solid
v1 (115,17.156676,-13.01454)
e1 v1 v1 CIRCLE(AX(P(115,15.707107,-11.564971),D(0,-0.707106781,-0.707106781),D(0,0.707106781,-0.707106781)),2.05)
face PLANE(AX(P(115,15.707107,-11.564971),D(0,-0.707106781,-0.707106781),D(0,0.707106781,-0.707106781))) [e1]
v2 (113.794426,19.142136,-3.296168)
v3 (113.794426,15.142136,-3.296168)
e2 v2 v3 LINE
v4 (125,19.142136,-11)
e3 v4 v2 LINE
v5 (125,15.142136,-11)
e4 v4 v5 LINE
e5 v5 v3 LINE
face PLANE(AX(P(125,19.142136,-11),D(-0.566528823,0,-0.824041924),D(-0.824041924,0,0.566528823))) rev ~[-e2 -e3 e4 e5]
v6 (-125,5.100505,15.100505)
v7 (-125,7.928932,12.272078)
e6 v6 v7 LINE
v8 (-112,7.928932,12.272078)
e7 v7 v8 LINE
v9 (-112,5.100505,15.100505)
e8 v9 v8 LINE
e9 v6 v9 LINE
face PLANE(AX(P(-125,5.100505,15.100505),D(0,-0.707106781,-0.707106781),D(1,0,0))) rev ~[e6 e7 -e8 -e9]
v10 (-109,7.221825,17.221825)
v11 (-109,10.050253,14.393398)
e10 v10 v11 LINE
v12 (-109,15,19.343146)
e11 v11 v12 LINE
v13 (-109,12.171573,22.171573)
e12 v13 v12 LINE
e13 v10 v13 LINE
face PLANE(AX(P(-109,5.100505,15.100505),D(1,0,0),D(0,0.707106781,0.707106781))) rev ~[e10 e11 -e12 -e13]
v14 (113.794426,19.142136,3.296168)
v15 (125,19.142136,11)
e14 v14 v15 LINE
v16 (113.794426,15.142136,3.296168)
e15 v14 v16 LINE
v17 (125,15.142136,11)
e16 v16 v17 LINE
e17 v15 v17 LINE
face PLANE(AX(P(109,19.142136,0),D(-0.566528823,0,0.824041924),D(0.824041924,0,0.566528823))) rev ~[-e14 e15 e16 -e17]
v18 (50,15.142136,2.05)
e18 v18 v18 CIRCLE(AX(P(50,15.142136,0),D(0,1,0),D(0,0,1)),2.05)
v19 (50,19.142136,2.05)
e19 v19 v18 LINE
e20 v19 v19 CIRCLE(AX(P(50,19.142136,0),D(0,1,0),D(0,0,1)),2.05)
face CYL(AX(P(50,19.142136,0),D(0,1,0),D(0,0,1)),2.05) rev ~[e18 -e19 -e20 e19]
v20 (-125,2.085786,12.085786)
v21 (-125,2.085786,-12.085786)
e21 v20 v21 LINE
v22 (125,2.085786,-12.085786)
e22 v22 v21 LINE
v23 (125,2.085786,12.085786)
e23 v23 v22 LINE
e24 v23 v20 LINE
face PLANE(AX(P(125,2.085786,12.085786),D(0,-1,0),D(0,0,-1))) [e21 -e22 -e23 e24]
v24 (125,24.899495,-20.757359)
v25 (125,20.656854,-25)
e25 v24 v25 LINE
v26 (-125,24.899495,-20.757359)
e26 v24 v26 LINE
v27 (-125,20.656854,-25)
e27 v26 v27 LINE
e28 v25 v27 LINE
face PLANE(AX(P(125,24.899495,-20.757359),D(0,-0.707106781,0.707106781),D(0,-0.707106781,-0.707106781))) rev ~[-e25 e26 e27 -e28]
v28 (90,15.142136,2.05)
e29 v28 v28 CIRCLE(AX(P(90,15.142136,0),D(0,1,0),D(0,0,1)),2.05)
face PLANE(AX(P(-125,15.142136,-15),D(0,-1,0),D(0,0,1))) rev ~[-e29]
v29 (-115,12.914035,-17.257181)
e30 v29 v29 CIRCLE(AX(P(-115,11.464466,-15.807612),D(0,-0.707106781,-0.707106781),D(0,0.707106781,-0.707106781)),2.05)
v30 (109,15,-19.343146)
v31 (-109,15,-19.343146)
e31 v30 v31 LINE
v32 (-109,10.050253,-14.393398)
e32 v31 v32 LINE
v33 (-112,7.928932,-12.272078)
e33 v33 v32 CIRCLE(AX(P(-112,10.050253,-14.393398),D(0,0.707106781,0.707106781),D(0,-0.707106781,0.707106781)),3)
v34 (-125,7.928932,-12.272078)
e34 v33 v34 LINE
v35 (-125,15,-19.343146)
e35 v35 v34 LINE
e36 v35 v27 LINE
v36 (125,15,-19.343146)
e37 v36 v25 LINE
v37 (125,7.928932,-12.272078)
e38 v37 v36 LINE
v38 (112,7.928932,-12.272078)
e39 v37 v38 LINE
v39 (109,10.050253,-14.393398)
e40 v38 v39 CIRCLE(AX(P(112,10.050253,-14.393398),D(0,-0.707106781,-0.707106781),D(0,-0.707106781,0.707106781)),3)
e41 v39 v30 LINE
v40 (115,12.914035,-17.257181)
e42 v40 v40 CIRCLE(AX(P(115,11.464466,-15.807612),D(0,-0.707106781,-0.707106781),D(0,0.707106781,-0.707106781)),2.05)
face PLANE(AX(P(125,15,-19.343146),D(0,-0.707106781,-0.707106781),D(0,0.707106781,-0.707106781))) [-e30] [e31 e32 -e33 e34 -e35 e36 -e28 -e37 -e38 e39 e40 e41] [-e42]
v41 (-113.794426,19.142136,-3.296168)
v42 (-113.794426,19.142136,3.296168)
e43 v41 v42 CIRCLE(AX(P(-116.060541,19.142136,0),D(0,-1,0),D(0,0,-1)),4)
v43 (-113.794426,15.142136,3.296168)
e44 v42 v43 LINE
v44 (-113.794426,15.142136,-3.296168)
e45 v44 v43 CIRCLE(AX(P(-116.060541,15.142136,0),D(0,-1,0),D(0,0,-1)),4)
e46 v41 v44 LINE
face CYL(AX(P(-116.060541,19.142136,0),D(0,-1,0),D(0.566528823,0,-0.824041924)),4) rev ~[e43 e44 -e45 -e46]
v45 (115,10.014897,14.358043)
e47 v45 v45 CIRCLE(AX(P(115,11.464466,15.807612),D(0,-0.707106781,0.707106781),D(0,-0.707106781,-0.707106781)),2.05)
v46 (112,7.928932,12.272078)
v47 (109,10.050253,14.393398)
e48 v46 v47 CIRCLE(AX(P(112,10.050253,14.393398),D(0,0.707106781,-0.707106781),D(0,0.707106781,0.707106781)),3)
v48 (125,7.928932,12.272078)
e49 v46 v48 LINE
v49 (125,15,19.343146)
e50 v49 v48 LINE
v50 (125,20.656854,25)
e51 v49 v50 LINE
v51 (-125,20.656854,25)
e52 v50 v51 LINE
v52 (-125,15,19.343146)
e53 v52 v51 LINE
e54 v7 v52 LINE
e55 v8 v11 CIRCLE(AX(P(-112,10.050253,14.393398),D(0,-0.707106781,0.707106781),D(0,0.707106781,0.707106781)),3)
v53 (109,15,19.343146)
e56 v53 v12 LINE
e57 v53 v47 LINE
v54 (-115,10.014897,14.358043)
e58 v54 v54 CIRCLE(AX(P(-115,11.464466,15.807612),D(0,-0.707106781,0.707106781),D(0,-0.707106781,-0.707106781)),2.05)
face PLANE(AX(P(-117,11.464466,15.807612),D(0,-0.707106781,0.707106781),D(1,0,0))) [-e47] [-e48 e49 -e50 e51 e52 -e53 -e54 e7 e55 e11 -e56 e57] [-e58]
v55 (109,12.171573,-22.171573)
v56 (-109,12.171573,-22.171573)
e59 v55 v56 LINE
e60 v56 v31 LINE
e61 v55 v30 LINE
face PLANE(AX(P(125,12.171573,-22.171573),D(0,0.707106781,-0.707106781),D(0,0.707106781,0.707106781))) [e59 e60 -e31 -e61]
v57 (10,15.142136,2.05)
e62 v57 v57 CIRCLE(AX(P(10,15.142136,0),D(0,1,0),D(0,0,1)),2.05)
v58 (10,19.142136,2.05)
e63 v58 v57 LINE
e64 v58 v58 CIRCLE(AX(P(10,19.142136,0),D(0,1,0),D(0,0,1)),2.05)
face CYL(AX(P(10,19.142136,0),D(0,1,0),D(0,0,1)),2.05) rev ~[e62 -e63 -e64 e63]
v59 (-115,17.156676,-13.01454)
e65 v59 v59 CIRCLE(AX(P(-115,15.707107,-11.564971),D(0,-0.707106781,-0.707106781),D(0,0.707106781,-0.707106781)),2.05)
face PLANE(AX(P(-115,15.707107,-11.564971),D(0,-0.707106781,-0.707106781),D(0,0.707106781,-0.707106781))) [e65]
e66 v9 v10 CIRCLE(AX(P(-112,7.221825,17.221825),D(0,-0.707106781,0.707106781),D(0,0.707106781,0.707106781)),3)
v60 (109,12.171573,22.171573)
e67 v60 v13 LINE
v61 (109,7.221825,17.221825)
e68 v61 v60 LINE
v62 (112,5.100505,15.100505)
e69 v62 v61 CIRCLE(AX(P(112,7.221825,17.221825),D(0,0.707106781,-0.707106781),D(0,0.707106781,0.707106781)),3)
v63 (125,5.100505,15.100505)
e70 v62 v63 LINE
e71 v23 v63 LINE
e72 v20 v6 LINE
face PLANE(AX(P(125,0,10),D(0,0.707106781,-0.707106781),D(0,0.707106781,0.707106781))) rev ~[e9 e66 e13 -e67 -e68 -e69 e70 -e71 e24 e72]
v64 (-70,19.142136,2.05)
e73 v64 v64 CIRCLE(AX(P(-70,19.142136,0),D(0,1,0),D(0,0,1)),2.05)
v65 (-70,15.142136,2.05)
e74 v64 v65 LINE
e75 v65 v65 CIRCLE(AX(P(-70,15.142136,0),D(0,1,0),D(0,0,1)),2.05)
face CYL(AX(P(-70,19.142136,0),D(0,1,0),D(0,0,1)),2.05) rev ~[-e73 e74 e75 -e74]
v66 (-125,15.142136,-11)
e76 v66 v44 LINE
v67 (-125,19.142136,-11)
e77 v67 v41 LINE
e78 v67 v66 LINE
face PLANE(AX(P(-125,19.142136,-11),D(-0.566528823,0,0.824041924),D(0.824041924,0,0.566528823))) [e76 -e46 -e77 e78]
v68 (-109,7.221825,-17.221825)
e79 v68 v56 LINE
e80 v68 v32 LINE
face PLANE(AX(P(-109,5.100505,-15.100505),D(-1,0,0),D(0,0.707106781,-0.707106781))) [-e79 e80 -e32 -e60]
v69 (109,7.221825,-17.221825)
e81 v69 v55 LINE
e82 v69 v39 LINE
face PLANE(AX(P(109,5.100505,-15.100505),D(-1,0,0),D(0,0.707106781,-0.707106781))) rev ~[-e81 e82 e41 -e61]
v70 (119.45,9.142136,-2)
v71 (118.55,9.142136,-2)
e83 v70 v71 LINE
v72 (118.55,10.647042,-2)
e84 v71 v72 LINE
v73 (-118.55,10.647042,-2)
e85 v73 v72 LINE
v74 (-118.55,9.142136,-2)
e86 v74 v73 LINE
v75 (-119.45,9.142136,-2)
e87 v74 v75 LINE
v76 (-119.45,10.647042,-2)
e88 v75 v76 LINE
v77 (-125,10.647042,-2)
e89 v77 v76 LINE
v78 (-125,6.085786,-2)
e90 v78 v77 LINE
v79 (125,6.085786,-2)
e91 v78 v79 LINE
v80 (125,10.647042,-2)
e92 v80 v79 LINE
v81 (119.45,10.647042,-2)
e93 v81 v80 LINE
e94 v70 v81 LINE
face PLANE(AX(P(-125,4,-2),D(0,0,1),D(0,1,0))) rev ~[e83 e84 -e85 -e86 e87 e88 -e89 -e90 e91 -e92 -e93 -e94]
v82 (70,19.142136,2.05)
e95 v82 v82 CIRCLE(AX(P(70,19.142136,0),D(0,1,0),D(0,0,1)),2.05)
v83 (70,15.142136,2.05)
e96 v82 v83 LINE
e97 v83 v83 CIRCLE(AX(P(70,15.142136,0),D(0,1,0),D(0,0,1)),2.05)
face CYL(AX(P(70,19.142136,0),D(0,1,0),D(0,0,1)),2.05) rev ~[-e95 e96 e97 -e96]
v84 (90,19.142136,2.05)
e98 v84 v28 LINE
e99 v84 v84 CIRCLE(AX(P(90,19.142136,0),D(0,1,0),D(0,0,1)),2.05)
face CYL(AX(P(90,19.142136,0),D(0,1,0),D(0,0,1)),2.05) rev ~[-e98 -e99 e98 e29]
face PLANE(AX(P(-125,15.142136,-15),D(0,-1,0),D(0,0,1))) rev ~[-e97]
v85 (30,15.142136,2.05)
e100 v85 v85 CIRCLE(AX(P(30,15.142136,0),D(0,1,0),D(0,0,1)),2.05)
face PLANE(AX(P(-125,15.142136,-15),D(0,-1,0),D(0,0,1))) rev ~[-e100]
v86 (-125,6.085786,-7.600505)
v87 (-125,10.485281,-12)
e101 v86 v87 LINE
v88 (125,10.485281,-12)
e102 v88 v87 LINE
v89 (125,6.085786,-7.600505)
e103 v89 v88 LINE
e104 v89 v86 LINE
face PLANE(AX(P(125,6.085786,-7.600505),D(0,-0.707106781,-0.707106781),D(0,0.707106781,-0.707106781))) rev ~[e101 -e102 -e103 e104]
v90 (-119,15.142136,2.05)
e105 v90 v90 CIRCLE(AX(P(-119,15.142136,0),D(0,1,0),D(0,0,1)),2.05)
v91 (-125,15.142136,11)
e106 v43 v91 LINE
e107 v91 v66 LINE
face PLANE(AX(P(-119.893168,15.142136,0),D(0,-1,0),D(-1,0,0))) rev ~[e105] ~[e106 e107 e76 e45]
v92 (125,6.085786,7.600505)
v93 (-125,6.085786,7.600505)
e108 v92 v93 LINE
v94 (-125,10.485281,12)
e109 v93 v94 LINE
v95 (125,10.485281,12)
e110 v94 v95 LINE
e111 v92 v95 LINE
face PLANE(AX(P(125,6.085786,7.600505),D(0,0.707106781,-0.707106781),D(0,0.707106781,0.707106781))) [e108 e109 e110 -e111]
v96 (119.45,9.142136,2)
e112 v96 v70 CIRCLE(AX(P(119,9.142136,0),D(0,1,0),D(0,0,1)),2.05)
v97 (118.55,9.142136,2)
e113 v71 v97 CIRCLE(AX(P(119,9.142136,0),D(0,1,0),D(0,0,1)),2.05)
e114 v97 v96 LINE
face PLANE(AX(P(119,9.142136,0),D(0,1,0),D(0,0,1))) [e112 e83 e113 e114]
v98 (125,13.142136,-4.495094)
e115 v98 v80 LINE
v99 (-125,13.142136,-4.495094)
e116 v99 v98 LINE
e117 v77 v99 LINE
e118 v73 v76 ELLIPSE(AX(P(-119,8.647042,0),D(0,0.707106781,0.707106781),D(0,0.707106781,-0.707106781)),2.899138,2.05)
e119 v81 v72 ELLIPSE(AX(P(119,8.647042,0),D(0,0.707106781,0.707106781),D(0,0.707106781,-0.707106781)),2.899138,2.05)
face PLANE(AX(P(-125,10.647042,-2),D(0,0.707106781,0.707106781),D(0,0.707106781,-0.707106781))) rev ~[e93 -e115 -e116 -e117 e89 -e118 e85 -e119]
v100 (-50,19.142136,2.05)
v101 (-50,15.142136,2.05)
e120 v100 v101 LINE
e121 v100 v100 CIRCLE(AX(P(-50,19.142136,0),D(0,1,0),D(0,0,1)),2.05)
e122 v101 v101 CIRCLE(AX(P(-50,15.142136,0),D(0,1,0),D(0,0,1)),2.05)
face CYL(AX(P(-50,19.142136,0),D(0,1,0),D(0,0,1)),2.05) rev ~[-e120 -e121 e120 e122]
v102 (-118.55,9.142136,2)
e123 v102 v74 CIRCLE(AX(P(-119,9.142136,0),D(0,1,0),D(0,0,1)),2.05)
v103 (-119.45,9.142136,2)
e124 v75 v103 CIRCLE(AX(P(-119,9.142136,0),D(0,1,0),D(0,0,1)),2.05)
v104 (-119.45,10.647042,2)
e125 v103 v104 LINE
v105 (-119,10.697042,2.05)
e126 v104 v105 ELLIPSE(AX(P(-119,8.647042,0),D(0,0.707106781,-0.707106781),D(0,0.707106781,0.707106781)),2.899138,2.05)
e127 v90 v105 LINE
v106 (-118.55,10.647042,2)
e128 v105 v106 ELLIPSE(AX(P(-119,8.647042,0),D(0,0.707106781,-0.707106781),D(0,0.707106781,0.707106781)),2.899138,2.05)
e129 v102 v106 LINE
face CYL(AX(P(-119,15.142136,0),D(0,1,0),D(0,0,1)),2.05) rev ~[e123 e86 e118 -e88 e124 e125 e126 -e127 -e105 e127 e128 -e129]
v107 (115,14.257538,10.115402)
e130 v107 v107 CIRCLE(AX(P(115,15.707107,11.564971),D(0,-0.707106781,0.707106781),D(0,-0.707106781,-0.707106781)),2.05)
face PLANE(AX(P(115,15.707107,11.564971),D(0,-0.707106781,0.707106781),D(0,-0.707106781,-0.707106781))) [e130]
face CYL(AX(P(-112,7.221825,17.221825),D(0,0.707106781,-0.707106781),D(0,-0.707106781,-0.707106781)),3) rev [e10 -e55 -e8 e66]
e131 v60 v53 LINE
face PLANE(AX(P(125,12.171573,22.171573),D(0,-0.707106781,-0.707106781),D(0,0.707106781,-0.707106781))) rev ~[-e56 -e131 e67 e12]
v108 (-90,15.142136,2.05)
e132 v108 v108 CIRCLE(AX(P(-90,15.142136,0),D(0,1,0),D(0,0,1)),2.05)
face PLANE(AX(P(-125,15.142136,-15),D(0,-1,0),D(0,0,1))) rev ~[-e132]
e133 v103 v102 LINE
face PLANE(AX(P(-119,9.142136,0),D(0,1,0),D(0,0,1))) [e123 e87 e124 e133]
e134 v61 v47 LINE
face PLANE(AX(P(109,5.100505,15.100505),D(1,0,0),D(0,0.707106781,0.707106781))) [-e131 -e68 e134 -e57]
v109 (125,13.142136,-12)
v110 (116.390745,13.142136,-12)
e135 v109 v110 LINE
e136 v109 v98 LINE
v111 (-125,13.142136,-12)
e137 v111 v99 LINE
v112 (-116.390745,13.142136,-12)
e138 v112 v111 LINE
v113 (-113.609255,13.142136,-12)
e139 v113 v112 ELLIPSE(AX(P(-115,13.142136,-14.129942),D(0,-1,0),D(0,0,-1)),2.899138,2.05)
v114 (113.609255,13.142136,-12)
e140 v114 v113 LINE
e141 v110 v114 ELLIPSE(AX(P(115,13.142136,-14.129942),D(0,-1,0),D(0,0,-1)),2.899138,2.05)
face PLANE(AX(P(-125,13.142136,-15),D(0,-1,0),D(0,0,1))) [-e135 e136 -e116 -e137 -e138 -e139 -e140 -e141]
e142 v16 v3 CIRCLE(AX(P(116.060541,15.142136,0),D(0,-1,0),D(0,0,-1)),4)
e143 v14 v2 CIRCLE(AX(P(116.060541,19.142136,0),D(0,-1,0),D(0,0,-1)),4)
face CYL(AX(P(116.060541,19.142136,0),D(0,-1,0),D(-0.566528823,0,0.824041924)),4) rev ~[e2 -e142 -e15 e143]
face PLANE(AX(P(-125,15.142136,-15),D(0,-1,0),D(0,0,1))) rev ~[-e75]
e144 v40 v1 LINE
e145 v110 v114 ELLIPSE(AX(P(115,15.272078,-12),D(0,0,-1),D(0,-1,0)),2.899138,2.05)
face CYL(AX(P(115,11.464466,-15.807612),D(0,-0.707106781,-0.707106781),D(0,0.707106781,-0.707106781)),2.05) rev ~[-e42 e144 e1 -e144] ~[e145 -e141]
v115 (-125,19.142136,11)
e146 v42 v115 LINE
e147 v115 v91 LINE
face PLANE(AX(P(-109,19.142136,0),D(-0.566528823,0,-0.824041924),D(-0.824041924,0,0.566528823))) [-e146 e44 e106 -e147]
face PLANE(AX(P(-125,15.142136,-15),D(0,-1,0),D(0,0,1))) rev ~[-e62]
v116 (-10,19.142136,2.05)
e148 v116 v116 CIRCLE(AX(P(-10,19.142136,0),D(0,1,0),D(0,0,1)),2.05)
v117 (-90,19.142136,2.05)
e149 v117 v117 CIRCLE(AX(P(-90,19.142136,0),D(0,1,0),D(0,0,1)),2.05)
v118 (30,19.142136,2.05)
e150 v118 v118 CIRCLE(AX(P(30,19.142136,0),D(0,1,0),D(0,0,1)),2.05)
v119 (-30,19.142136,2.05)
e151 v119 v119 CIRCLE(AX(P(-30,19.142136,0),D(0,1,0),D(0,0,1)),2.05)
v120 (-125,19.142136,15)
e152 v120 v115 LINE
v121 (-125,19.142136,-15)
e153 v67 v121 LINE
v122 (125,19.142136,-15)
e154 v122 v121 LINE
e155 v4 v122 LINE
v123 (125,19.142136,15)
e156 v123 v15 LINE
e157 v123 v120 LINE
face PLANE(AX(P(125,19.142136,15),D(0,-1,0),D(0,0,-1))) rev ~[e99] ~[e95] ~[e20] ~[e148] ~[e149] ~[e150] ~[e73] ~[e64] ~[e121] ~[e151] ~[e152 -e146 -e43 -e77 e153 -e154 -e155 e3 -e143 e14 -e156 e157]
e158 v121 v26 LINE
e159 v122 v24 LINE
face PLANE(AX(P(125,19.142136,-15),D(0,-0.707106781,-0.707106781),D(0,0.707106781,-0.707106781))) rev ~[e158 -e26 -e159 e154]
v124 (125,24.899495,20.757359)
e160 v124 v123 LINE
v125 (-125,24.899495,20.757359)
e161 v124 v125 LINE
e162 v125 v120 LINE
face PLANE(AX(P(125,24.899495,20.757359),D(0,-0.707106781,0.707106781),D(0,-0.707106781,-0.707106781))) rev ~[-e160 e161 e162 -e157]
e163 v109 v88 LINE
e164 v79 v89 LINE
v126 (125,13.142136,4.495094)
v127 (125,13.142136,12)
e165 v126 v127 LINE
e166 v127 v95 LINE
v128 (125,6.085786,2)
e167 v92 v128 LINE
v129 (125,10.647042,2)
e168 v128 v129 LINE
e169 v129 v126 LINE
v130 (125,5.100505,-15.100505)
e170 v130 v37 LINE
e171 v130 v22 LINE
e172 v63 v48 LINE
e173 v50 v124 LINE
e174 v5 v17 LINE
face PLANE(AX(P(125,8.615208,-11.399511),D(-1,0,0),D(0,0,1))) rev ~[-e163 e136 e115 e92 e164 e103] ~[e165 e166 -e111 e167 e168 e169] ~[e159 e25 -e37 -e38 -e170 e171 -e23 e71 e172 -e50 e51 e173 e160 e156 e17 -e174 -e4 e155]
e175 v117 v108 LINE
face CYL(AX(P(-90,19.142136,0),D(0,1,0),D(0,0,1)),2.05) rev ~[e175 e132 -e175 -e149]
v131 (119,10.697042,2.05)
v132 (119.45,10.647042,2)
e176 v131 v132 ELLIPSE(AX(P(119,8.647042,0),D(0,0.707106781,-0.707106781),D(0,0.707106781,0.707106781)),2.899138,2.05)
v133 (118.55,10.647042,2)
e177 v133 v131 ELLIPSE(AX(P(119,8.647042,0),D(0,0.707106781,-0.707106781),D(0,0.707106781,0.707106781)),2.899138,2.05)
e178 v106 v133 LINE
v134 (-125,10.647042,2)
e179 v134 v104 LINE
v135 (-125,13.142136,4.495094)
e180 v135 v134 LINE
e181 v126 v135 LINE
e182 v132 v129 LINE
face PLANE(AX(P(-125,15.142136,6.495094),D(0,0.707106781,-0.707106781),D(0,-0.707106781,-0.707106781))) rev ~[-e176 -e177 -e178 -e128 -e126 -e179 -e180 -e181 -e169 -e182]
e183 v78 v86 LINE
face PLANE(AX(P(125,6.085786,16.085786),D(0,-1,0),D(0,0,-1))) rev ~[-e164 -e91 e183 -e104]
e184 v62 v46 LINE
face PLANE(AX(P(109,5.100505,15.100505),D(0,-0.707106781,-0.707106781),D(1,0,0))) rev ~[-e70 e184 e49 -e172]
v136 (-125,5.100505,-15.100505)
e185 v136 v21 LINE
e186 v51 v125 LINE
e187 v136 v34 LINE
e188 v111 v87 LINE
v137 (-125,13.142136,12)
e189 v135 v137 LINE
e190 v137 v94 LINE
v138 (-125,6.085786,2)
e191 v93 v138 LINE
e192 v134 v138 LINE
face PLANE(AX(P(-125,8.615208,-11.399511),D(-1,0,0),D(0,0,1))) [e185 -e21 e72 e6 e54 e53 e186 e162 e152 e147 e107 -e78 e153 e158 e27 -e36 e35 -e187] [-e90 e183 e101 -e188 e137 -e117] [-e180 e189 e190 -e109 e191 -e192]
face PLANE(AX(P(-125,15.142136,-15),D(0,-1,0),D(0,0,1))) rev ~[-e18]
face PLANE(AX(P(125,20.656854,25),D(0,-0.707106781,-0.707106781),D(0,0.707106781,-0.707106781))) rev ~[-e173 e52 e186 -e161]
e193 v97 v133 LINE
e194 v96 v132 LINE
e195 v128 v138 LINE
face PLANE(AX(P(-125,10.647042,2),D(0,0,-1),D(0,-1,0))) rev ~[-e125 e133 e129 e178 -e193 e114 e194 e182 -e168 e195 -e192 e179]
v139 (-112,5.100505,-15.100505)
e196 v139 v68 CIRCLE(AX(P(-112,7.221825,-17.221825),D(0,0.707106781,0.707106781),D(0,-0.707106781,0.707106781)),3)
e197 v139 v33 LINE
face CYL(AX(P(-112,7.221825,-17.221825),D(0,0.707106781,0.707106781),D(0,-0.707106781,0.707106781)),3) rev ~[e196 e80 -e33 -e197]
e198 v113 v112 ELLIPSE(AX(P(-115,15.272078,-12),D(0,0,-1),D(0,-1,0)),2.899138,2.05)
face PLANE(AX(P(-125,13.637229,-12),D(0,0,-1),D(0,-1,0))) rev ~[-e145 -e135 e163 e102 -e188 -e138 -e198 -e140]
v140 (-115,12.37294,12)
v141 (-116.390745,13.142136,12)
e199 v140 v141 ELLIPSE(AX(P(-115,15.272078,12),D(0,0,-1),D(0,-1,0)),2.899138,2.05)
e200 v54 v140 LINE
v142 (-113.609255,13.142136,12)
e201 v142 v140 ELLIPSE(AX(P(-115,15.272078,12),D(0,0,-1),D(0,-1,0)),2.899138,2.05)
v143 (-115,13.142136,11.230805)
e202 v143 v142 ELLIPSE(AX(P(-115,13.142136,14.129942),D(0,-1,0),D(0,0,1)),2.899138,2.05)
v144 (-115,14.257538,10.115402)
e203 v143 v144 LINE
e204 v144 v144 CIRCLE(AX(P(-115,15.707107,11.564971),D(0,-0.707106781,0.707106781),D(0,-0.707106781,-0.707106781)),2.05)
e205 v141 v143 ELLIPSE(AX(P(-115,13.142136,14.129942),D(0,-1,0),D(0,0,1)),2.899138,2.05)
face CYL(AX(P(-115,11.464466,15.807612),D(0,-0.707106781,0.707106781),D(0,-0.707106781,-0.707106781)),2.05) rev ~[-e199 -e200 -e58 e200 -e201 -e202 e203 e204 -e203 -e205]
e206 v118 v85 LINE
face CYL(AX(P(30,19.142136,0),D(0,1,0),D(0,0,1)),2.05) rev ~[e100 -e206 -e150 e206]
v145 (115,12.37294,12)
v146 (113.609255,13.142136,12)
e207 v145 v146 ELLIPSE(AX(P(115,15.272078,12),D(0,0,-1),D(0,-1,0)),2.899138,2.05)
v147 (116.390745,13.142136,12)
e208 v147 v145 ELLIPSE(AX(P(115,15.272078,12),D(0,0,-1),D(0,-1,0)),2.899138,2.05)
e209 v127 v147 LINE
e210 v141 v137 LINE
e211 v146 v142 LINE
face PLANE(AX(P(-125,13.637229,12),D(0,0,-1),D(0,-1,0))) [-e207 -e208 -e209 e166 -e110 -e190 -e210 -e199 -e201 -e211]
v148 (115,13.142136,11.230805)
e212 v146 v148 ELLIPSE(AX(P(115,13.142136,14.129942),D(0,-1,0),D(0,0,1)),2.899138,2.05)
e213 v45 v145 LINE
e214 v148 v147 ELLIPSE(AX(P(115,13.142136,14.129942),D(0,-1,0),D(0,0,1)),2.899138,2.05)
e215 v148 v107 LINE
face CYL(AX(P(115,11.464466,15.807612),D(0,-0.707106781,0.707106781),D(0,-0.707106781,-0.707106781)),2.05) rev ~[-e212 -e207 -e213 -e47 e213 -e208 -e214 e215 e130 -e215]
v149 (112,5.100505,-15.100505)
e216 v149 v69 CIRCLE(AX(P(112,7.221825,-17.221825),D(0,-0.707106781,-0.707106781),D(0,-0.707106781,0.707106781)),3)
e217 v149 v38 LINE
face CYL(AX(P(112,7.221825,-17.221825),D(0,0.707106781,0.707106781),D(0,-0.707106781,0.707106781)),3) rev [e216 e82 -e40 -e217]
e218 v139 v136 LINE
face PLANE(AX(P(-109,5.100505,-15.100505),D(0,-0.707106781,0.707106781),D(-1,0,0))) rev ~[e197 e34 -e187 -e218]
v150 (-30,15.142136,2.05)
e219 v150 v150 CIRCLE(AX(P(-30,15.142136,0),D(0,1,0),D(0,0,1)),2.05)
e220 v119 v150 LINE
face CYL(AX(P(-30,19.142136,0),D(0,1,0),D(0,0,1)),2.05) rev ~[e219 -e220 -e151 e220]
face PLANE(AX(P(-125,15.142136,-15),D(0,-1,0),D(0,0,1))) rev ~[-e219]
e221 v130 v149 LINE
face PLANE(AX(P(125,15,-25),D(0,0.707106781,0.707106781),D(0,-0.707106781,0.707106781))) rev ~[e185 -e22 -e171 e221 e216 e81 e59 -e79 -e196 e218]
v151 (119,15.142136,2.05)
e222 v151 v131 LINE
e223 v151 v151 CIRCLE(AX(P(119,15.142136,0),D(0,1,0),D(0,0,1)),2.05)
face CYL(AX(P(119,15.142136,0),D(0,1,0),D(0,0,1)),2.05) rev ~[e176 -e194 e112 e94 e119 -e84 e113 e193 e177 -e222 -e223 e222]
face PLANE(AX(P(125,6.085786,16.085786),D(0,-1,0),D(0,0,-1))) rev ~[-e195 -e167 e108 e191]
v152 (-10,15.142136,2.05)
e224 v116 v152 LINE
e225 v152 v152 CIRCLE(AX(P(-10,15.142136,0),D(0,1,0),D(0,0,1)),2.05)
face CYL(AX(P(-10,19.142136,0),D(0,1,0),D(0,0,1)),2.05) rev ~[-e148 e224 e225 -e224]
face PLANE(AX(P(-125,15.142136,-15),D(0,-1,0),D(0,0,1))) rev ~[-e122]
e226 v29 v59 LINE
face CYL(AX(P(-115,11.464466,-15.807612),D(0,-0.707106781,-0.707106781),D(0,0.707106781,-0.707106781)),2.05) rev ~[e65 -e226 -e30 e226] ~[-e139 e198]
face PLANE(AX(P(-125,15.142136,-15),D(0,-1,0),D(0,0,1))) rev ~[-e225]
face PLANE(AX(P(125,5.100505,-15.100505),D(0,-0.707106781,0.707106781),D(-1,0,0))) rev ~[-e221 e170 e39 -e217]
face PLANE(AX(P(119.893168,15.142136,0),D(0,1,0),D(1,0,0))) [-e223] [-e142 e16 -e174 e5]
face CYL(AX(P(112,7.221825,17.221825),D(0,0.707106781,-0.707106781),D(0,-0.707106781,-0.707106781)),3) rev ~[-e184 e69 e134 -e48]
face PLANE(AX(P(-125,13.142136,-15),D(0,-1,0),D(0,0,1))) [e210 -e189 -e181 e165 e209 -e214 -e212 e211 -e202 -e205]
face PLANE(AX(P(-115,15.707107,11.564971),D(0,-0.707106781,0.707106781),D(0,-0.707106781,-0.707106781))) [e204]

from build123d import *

# Parameters (mm, degrees)
BOSS_EXTRUDE1_DEPTH      = 125
BOSS_EXTRUDE1_DEPTH_BACK = 125
SKETCH1_W                = 50
SKETCH1_H                = 30
CUT_EXTRUDE1_DEPTH       = 254.031618578
CUT_EXTRUDE2_DEPTH       = 254.031618578
CUT_EXTRUDE3_DEPTH       = 254.031618578
SKETCH6_R                = 2.05
CUT_EXTRUDE4_DEPTH       = 6
CUT_EXTRUDE5_DEPTH       = 253.477691783
BOSS_EXTRUDE2_DEPTH      = 250
BOSS_EXTRUDE3_DEPTH      = 250
CUT_EXTRUDE6_DEPTH       = 253.477691783
SKETCH11_W               = 16
SKETCH11_H               = 10
CUT_EXTRUDE7_DEPTH       = 4
SKETCH12_W               = 16
SKETCH12_H               = 18
CUT_EXTRUDE11_DEPTH      = 4
BOSS_EXTRUDE4_DEPTH      = 250
CUT_EXTRUDE12_DEPTH      = 4
SKETCH15_W               = 30
SKETCH15_H               = 2
BOSS_EXTRUDE5_DEPTH      = 250
FILLET1_R                = 4
FILLET2_R                = 3
SKETCH16_R               = 2.05
CUT_EXTRUDE13_DEPTH      = 6
SKETCH17_R               = 2.05
CUT_EXTRUDE14_DEPTH      = 6
SKETCH18_R               = 2.05
CUT_EXTRUDE15_DEPTH      = 6


with BuildPart() as part:
    # Sketch1 → Boss-Extrude1 (new, two sides: drawn at the far end of the back side and taken through both)
    with BuildSketch(Plane(origin=(0, 0, 0), x_dir=(0, 0, -1), z_dir=(1, 0, 0)).offset(-BOSS_EXTRUDE1_DEPTH_BACK)):
        with Locations((0, 15)):
            Rectangle(SKETCH1_W, SKETCH1_H)
    extrude(amount=BOSS_EXTRUDE1_DEPTH + BOSS_EXTRUDE1_DEPTH_BACK)

    # Sketch2 → Cut-Extrude1 (cut, through all)
    with BuildSketch(Plane(origin=(125, 0, 0), x_dir=(0, 0, -1), z_dir=(1, 0, 0))):
        Polygon((-10, 0), (-25, 15), (-25, 0), align=None)
        Polygon((25, 15), (10, 0), (25, 0), align=None)
    extrude(amount=-CUT_EXTRUDE1_DEPTH, mode=Mode.SUBTRACT)

    # Sketch4 → Cut-Extrude2 (cut, through all)
    with BuildSketch(Plane(origin=(125, 0, 0), x_dir=(0, 0, -1), z_dir=(1, 0, 0))):
        Polygon((-22.171572875, 12.171572875), (-19.343145751, 15), (-25, 20.656854249), (-25, 15), align=None)
        Polygon((22.171572875, 12.171572875), (19.343145751, 15), (25, 20.656854249), (25, 15), align=None)
    extrude(amount=-CUT_EXTRUDE2_DEPTH, mode=Mode.SUBTRACT)

    # Sketch5 → Cut-Extrude3 (cut, through all)
    with BuildSketch(Plane(origin=(125, 0, 0), x_dir=(0, 0, -1), z_dir=(1, 0, 0))):
        Polygon((-25, 20.656854249), (-20.757359313, 24.899494937), (-15, 19.142135624), (15, 19.142135624), (20.757359313, 24.899494937), (25, 20.656854249), (25, 30), (-25, 30), align=None)
    extrude(amount=-CUT_EXTRUDE3_DEPTH, mode=Mode.SUBTRACT)

    # Sketch6 → Cut-Extrude4 (cut)
    with BuildSketch(Plane(origin=(0, 19.142135624, 0), x_dir=(1, 0, 0), z_dir=(0, 1, 0))):
        with Locations(Location((-10, 0, 0), (0, 0, 270))):
            Circle(SKETCH6_R)
        with Locations(Location((10, 0, 0), (0, 0, 270))):
            Circle(SKETCH6_R)
        with Locations(Location((30, 0, 0), (0, 0, 270))):
            Circle(SKETCH6_R)
        with Locations(Location((50, 0, 0), (0, 0, 270))):
            Circle(SKETCH6_R)
        with Locations(Location((70, 0, 0), (0, 0, 270))):
            Circle(SKETCH6_R)
        with Locations(Location((90, 0, 0), (0, 0, 270))):
            Circle(SKETCH6_R)
        with Locations(Location((-30, 0, 0), (0, 0, 270))):
            Circle(SKETCH6_R)
        with Locations(Location((-50, 0, 0), (0, 0, 270))):
            Circle(SKETCH6_R)
        with Locations(Location((-70, 0, 0), (0, 0, 270))):
            Circle(SKETCH6_R)
        with Locations(Location((-90, 0, 0), (0, 0, 270))):
            Circle(SKETCH6_R)
    extrude(amount=-CUT_EXTRUDE4_DEPTH, mode=Mode.SUBTRACT)

    # Sketch7 → Cut-Extrude5 (cut, through all)
    with BuildSketch(Plane.ZY.offset(125)):
        Polygon((-8.343145751, 4), (-2, 4), (-2, 10.647041832), (-6.495093791, 15.142135624), (-10.495093791, 15.142135624), (-14.990187583, 10.647041832), align=None)
        Polygon((8.343145751, 4), (14.990187583, 10.647041832), (10.495093791, 15.142135624), (6.495093791, 15.142135624), (2, 10.647041832), (2, 4), align=None)
    extrude(amount=-CUT_EXTRUDE5_DEPTH, mode=Mode.SUBTRACT)

    # Sketch8 → Boss-Extrude2 (add, through all)
    with BuildSketch(Plane.ZY.offset(125)):
        Polygon((-12, 13.637229415), (-12, 7.656854249), (-14.990187583, 10.647041832), align=None)
        Polygon((12, 13.637229415), (12, 7.656854249), (14.990187583, 10.647041832), align=None)
    extrude(amount=-BOSS_EXTRUDE2_DEPTH)

    # Sketch9 → Boss-Extrude3 (add, through all)
    with BuildSketch(Plane(origin=(125, 0, 0), x_dir=(0, 0, -1), z_dir=(1, 0, 0))):
        Polygon((-16.085786438, 6.085786438), (16.085786438, 6.085786438), (10, 0), (-10, 0), align=None)
    extrude(amount=-BOSS_EXTRUDE3_DEPTH)

    # Sketch10 → Cut-Extrude6 (cut, through all)
    with BuildSketch(Plane(origin=(125, 0, 0), x_dir=(0, 0, -1), z_dir=(1, 0, 0))):
        Polygon((-12.085786438, 2.085786438), (12.085786438, 2.085786438), (10, 0), (-10, 0), align=None)
    extrude(amount=-CUT_EXTRUDE6_DEPTH, mode=Mode.SUBTRACT)

    # Sketch11 → Cut-Extrude7 (cut)
    with BuildSketch(Plane(origin=(0, -5, 5), x_dir=(1, 0, 0), z_dir=(0, -0.7071067811865477, 0.7071067811865475))):
        with Locations((117, 19.284271247)):
            Rectangle(SKETCH11_W, SKETCH11_H)
        with Locations((-117, 19.284271247)):
            Rectangle(SKETCH11_W, SKETCH11_H)
    extrude(amount=-CUT_EXTRUDE7_DEPTH, mode=Mode.SUBTRACT)

    # Sketch12 → Cut-Extrude11 (cut)
    with BuildSketch(Plane(origin=(0, -5, -5), x_dir=(-1, 0, 0), z_dir=(0, -0.7071067811865477, -0.7071067811865475))):
        with Locations((-117, 23.284271247)):
            Rectangle(SKETCH12_W, SKETCH12_H)
        with Locations((117, 23.284271247)):
            Rectangle(SKETCH12_W, SKETCH12_H)
    extrude(amount=-CUT_EXTRUDE11_DEPTH, mode=Mode.SUBTRACT)

    # Sketch13 → Boss-Extrude4 (add, through all)
    with BuildSketch(Plane(origin=(125, 0, 0), x_dir=(0, 0, -1), z_dir=(1, 0, 0))):
        Polygon((7.600505063, 6.085786438), (13.514718626, 12), (14.928932188, 10.585786438), (10.428932188, 6.085786438), align=None)
        Polygon((-7.600505063, 6.085786438), (-13.514718626, 12), (-14.928932188, 10.585786438), (-10.428932188, 6.085786438), align=None)
    extrude(amount=-BOSS_EXTRUDE4_DEPTH)

    # Sketch14 → Cut-Extrude12 (cut)
    with BuildSketch(Plane(origin=(0, 19.142135624, 0), x_dir=(1, 0, 0), z_dir=(0, 1, 0))):
        Polygon((125, 11), (109, 0), (125, -11), align=None)
        Polygon((-125, 11), (-109, 0), (-125, -11), align=None)
    extrude(amount=-CUT_EXTRUDE12_DEPTH, mode=Mode.SUBTRACT)

    # Sketch15 → Boss-Extrude5 (add, through all)
    with BuildSketch(Plane.ZY.offset(125)):
        with Locations((0, 14.142135624)):
            Rectangle(SKETCH15_W, SKETCH15_H)
    extrude(amount=-BOSS_EXTRUDE5_DEPTH)

    # Fillet1
    fillet1_edges = [part.edges().sort_by_distance(p)[0] for p in [
        (109, 17.142135624, 0),
        (-109, 17.142135624, 0),
    ]]
    fillet(fillet1_edges, radius=FILLET1_R)

    # Fillet2
    fillet2_edges = [part.edges().sort_by_distance(p)[0] for p in [
        (109, 6.514718626, 13.686291501),
        (-109, 6.514718626, 13.686291501),
        (109, 6.514718626, -13.686291501),
        (-109, 6.514718626, -13.686291501),
    ]]
    fillet(fillet2_edges, radius=FILLET2_R)

    # Sketch16 → Cut-Extrude13 (cut)
    with BuildSketch(Plane(origin=(0, 15.142135624, 0), x_dir=(1, 0, 0), z_dir=(0, 1, 0))):
        with Locations(Location((119, 0, 0), (0, 0, 270))):
            Circle(SKETCH16_R)
        with Locations(Location((-119, 0, 0), (0, 0, 270))):
            Circle(SKETCH16_R)
    extrude(amount=-CUT_EXTRUDE13_DEPTH, mode=Mode.SUBTRACT)

    # Sketch17 → Cut-Extrude14 (cut)
    with BuildSketch(Plane(origin=(0, -2.171572875, -2.171572875), x_dir=(-1, 0, 0), z_dir=(0, -0.7071067811865469, -0.7071067811865481))):
        with Locations(Location((-115, 19.284271247, 0), (0, 0, 90))):
            Circle(SKETCH17_R)
        with Locations(Location((115, 19.284271247, 0), (0, 0, 90))):
            Circle(SKETCH17_R)
    extrude(amount=-CUT_EXTRUDE14_DEPTH, mode=Mode.SUBTRACT)

    # Sketch18 → Cut-Extrude15 (cut)
    with BuildSketch(Plane(origin=(0, -2.171572875, 2.171572875), x_dir=(1, 0, 0), z_dir=(0, -0.7071067811865477, 0.7071067811865475))):
        with Locations(Location((-115, 19.284271247, 0), (0, 0, 270))):
            Circle(SKETCH18_R)
        with Locations(Location((115, 19.284271247, 0), (0, 0, 270))):
            Circle(SKETCH18_R)
    extrude(amount=-CUT_EXTRUDE15_DEPTH, mode=Mode.SUBTRACT)


solid = part.part
